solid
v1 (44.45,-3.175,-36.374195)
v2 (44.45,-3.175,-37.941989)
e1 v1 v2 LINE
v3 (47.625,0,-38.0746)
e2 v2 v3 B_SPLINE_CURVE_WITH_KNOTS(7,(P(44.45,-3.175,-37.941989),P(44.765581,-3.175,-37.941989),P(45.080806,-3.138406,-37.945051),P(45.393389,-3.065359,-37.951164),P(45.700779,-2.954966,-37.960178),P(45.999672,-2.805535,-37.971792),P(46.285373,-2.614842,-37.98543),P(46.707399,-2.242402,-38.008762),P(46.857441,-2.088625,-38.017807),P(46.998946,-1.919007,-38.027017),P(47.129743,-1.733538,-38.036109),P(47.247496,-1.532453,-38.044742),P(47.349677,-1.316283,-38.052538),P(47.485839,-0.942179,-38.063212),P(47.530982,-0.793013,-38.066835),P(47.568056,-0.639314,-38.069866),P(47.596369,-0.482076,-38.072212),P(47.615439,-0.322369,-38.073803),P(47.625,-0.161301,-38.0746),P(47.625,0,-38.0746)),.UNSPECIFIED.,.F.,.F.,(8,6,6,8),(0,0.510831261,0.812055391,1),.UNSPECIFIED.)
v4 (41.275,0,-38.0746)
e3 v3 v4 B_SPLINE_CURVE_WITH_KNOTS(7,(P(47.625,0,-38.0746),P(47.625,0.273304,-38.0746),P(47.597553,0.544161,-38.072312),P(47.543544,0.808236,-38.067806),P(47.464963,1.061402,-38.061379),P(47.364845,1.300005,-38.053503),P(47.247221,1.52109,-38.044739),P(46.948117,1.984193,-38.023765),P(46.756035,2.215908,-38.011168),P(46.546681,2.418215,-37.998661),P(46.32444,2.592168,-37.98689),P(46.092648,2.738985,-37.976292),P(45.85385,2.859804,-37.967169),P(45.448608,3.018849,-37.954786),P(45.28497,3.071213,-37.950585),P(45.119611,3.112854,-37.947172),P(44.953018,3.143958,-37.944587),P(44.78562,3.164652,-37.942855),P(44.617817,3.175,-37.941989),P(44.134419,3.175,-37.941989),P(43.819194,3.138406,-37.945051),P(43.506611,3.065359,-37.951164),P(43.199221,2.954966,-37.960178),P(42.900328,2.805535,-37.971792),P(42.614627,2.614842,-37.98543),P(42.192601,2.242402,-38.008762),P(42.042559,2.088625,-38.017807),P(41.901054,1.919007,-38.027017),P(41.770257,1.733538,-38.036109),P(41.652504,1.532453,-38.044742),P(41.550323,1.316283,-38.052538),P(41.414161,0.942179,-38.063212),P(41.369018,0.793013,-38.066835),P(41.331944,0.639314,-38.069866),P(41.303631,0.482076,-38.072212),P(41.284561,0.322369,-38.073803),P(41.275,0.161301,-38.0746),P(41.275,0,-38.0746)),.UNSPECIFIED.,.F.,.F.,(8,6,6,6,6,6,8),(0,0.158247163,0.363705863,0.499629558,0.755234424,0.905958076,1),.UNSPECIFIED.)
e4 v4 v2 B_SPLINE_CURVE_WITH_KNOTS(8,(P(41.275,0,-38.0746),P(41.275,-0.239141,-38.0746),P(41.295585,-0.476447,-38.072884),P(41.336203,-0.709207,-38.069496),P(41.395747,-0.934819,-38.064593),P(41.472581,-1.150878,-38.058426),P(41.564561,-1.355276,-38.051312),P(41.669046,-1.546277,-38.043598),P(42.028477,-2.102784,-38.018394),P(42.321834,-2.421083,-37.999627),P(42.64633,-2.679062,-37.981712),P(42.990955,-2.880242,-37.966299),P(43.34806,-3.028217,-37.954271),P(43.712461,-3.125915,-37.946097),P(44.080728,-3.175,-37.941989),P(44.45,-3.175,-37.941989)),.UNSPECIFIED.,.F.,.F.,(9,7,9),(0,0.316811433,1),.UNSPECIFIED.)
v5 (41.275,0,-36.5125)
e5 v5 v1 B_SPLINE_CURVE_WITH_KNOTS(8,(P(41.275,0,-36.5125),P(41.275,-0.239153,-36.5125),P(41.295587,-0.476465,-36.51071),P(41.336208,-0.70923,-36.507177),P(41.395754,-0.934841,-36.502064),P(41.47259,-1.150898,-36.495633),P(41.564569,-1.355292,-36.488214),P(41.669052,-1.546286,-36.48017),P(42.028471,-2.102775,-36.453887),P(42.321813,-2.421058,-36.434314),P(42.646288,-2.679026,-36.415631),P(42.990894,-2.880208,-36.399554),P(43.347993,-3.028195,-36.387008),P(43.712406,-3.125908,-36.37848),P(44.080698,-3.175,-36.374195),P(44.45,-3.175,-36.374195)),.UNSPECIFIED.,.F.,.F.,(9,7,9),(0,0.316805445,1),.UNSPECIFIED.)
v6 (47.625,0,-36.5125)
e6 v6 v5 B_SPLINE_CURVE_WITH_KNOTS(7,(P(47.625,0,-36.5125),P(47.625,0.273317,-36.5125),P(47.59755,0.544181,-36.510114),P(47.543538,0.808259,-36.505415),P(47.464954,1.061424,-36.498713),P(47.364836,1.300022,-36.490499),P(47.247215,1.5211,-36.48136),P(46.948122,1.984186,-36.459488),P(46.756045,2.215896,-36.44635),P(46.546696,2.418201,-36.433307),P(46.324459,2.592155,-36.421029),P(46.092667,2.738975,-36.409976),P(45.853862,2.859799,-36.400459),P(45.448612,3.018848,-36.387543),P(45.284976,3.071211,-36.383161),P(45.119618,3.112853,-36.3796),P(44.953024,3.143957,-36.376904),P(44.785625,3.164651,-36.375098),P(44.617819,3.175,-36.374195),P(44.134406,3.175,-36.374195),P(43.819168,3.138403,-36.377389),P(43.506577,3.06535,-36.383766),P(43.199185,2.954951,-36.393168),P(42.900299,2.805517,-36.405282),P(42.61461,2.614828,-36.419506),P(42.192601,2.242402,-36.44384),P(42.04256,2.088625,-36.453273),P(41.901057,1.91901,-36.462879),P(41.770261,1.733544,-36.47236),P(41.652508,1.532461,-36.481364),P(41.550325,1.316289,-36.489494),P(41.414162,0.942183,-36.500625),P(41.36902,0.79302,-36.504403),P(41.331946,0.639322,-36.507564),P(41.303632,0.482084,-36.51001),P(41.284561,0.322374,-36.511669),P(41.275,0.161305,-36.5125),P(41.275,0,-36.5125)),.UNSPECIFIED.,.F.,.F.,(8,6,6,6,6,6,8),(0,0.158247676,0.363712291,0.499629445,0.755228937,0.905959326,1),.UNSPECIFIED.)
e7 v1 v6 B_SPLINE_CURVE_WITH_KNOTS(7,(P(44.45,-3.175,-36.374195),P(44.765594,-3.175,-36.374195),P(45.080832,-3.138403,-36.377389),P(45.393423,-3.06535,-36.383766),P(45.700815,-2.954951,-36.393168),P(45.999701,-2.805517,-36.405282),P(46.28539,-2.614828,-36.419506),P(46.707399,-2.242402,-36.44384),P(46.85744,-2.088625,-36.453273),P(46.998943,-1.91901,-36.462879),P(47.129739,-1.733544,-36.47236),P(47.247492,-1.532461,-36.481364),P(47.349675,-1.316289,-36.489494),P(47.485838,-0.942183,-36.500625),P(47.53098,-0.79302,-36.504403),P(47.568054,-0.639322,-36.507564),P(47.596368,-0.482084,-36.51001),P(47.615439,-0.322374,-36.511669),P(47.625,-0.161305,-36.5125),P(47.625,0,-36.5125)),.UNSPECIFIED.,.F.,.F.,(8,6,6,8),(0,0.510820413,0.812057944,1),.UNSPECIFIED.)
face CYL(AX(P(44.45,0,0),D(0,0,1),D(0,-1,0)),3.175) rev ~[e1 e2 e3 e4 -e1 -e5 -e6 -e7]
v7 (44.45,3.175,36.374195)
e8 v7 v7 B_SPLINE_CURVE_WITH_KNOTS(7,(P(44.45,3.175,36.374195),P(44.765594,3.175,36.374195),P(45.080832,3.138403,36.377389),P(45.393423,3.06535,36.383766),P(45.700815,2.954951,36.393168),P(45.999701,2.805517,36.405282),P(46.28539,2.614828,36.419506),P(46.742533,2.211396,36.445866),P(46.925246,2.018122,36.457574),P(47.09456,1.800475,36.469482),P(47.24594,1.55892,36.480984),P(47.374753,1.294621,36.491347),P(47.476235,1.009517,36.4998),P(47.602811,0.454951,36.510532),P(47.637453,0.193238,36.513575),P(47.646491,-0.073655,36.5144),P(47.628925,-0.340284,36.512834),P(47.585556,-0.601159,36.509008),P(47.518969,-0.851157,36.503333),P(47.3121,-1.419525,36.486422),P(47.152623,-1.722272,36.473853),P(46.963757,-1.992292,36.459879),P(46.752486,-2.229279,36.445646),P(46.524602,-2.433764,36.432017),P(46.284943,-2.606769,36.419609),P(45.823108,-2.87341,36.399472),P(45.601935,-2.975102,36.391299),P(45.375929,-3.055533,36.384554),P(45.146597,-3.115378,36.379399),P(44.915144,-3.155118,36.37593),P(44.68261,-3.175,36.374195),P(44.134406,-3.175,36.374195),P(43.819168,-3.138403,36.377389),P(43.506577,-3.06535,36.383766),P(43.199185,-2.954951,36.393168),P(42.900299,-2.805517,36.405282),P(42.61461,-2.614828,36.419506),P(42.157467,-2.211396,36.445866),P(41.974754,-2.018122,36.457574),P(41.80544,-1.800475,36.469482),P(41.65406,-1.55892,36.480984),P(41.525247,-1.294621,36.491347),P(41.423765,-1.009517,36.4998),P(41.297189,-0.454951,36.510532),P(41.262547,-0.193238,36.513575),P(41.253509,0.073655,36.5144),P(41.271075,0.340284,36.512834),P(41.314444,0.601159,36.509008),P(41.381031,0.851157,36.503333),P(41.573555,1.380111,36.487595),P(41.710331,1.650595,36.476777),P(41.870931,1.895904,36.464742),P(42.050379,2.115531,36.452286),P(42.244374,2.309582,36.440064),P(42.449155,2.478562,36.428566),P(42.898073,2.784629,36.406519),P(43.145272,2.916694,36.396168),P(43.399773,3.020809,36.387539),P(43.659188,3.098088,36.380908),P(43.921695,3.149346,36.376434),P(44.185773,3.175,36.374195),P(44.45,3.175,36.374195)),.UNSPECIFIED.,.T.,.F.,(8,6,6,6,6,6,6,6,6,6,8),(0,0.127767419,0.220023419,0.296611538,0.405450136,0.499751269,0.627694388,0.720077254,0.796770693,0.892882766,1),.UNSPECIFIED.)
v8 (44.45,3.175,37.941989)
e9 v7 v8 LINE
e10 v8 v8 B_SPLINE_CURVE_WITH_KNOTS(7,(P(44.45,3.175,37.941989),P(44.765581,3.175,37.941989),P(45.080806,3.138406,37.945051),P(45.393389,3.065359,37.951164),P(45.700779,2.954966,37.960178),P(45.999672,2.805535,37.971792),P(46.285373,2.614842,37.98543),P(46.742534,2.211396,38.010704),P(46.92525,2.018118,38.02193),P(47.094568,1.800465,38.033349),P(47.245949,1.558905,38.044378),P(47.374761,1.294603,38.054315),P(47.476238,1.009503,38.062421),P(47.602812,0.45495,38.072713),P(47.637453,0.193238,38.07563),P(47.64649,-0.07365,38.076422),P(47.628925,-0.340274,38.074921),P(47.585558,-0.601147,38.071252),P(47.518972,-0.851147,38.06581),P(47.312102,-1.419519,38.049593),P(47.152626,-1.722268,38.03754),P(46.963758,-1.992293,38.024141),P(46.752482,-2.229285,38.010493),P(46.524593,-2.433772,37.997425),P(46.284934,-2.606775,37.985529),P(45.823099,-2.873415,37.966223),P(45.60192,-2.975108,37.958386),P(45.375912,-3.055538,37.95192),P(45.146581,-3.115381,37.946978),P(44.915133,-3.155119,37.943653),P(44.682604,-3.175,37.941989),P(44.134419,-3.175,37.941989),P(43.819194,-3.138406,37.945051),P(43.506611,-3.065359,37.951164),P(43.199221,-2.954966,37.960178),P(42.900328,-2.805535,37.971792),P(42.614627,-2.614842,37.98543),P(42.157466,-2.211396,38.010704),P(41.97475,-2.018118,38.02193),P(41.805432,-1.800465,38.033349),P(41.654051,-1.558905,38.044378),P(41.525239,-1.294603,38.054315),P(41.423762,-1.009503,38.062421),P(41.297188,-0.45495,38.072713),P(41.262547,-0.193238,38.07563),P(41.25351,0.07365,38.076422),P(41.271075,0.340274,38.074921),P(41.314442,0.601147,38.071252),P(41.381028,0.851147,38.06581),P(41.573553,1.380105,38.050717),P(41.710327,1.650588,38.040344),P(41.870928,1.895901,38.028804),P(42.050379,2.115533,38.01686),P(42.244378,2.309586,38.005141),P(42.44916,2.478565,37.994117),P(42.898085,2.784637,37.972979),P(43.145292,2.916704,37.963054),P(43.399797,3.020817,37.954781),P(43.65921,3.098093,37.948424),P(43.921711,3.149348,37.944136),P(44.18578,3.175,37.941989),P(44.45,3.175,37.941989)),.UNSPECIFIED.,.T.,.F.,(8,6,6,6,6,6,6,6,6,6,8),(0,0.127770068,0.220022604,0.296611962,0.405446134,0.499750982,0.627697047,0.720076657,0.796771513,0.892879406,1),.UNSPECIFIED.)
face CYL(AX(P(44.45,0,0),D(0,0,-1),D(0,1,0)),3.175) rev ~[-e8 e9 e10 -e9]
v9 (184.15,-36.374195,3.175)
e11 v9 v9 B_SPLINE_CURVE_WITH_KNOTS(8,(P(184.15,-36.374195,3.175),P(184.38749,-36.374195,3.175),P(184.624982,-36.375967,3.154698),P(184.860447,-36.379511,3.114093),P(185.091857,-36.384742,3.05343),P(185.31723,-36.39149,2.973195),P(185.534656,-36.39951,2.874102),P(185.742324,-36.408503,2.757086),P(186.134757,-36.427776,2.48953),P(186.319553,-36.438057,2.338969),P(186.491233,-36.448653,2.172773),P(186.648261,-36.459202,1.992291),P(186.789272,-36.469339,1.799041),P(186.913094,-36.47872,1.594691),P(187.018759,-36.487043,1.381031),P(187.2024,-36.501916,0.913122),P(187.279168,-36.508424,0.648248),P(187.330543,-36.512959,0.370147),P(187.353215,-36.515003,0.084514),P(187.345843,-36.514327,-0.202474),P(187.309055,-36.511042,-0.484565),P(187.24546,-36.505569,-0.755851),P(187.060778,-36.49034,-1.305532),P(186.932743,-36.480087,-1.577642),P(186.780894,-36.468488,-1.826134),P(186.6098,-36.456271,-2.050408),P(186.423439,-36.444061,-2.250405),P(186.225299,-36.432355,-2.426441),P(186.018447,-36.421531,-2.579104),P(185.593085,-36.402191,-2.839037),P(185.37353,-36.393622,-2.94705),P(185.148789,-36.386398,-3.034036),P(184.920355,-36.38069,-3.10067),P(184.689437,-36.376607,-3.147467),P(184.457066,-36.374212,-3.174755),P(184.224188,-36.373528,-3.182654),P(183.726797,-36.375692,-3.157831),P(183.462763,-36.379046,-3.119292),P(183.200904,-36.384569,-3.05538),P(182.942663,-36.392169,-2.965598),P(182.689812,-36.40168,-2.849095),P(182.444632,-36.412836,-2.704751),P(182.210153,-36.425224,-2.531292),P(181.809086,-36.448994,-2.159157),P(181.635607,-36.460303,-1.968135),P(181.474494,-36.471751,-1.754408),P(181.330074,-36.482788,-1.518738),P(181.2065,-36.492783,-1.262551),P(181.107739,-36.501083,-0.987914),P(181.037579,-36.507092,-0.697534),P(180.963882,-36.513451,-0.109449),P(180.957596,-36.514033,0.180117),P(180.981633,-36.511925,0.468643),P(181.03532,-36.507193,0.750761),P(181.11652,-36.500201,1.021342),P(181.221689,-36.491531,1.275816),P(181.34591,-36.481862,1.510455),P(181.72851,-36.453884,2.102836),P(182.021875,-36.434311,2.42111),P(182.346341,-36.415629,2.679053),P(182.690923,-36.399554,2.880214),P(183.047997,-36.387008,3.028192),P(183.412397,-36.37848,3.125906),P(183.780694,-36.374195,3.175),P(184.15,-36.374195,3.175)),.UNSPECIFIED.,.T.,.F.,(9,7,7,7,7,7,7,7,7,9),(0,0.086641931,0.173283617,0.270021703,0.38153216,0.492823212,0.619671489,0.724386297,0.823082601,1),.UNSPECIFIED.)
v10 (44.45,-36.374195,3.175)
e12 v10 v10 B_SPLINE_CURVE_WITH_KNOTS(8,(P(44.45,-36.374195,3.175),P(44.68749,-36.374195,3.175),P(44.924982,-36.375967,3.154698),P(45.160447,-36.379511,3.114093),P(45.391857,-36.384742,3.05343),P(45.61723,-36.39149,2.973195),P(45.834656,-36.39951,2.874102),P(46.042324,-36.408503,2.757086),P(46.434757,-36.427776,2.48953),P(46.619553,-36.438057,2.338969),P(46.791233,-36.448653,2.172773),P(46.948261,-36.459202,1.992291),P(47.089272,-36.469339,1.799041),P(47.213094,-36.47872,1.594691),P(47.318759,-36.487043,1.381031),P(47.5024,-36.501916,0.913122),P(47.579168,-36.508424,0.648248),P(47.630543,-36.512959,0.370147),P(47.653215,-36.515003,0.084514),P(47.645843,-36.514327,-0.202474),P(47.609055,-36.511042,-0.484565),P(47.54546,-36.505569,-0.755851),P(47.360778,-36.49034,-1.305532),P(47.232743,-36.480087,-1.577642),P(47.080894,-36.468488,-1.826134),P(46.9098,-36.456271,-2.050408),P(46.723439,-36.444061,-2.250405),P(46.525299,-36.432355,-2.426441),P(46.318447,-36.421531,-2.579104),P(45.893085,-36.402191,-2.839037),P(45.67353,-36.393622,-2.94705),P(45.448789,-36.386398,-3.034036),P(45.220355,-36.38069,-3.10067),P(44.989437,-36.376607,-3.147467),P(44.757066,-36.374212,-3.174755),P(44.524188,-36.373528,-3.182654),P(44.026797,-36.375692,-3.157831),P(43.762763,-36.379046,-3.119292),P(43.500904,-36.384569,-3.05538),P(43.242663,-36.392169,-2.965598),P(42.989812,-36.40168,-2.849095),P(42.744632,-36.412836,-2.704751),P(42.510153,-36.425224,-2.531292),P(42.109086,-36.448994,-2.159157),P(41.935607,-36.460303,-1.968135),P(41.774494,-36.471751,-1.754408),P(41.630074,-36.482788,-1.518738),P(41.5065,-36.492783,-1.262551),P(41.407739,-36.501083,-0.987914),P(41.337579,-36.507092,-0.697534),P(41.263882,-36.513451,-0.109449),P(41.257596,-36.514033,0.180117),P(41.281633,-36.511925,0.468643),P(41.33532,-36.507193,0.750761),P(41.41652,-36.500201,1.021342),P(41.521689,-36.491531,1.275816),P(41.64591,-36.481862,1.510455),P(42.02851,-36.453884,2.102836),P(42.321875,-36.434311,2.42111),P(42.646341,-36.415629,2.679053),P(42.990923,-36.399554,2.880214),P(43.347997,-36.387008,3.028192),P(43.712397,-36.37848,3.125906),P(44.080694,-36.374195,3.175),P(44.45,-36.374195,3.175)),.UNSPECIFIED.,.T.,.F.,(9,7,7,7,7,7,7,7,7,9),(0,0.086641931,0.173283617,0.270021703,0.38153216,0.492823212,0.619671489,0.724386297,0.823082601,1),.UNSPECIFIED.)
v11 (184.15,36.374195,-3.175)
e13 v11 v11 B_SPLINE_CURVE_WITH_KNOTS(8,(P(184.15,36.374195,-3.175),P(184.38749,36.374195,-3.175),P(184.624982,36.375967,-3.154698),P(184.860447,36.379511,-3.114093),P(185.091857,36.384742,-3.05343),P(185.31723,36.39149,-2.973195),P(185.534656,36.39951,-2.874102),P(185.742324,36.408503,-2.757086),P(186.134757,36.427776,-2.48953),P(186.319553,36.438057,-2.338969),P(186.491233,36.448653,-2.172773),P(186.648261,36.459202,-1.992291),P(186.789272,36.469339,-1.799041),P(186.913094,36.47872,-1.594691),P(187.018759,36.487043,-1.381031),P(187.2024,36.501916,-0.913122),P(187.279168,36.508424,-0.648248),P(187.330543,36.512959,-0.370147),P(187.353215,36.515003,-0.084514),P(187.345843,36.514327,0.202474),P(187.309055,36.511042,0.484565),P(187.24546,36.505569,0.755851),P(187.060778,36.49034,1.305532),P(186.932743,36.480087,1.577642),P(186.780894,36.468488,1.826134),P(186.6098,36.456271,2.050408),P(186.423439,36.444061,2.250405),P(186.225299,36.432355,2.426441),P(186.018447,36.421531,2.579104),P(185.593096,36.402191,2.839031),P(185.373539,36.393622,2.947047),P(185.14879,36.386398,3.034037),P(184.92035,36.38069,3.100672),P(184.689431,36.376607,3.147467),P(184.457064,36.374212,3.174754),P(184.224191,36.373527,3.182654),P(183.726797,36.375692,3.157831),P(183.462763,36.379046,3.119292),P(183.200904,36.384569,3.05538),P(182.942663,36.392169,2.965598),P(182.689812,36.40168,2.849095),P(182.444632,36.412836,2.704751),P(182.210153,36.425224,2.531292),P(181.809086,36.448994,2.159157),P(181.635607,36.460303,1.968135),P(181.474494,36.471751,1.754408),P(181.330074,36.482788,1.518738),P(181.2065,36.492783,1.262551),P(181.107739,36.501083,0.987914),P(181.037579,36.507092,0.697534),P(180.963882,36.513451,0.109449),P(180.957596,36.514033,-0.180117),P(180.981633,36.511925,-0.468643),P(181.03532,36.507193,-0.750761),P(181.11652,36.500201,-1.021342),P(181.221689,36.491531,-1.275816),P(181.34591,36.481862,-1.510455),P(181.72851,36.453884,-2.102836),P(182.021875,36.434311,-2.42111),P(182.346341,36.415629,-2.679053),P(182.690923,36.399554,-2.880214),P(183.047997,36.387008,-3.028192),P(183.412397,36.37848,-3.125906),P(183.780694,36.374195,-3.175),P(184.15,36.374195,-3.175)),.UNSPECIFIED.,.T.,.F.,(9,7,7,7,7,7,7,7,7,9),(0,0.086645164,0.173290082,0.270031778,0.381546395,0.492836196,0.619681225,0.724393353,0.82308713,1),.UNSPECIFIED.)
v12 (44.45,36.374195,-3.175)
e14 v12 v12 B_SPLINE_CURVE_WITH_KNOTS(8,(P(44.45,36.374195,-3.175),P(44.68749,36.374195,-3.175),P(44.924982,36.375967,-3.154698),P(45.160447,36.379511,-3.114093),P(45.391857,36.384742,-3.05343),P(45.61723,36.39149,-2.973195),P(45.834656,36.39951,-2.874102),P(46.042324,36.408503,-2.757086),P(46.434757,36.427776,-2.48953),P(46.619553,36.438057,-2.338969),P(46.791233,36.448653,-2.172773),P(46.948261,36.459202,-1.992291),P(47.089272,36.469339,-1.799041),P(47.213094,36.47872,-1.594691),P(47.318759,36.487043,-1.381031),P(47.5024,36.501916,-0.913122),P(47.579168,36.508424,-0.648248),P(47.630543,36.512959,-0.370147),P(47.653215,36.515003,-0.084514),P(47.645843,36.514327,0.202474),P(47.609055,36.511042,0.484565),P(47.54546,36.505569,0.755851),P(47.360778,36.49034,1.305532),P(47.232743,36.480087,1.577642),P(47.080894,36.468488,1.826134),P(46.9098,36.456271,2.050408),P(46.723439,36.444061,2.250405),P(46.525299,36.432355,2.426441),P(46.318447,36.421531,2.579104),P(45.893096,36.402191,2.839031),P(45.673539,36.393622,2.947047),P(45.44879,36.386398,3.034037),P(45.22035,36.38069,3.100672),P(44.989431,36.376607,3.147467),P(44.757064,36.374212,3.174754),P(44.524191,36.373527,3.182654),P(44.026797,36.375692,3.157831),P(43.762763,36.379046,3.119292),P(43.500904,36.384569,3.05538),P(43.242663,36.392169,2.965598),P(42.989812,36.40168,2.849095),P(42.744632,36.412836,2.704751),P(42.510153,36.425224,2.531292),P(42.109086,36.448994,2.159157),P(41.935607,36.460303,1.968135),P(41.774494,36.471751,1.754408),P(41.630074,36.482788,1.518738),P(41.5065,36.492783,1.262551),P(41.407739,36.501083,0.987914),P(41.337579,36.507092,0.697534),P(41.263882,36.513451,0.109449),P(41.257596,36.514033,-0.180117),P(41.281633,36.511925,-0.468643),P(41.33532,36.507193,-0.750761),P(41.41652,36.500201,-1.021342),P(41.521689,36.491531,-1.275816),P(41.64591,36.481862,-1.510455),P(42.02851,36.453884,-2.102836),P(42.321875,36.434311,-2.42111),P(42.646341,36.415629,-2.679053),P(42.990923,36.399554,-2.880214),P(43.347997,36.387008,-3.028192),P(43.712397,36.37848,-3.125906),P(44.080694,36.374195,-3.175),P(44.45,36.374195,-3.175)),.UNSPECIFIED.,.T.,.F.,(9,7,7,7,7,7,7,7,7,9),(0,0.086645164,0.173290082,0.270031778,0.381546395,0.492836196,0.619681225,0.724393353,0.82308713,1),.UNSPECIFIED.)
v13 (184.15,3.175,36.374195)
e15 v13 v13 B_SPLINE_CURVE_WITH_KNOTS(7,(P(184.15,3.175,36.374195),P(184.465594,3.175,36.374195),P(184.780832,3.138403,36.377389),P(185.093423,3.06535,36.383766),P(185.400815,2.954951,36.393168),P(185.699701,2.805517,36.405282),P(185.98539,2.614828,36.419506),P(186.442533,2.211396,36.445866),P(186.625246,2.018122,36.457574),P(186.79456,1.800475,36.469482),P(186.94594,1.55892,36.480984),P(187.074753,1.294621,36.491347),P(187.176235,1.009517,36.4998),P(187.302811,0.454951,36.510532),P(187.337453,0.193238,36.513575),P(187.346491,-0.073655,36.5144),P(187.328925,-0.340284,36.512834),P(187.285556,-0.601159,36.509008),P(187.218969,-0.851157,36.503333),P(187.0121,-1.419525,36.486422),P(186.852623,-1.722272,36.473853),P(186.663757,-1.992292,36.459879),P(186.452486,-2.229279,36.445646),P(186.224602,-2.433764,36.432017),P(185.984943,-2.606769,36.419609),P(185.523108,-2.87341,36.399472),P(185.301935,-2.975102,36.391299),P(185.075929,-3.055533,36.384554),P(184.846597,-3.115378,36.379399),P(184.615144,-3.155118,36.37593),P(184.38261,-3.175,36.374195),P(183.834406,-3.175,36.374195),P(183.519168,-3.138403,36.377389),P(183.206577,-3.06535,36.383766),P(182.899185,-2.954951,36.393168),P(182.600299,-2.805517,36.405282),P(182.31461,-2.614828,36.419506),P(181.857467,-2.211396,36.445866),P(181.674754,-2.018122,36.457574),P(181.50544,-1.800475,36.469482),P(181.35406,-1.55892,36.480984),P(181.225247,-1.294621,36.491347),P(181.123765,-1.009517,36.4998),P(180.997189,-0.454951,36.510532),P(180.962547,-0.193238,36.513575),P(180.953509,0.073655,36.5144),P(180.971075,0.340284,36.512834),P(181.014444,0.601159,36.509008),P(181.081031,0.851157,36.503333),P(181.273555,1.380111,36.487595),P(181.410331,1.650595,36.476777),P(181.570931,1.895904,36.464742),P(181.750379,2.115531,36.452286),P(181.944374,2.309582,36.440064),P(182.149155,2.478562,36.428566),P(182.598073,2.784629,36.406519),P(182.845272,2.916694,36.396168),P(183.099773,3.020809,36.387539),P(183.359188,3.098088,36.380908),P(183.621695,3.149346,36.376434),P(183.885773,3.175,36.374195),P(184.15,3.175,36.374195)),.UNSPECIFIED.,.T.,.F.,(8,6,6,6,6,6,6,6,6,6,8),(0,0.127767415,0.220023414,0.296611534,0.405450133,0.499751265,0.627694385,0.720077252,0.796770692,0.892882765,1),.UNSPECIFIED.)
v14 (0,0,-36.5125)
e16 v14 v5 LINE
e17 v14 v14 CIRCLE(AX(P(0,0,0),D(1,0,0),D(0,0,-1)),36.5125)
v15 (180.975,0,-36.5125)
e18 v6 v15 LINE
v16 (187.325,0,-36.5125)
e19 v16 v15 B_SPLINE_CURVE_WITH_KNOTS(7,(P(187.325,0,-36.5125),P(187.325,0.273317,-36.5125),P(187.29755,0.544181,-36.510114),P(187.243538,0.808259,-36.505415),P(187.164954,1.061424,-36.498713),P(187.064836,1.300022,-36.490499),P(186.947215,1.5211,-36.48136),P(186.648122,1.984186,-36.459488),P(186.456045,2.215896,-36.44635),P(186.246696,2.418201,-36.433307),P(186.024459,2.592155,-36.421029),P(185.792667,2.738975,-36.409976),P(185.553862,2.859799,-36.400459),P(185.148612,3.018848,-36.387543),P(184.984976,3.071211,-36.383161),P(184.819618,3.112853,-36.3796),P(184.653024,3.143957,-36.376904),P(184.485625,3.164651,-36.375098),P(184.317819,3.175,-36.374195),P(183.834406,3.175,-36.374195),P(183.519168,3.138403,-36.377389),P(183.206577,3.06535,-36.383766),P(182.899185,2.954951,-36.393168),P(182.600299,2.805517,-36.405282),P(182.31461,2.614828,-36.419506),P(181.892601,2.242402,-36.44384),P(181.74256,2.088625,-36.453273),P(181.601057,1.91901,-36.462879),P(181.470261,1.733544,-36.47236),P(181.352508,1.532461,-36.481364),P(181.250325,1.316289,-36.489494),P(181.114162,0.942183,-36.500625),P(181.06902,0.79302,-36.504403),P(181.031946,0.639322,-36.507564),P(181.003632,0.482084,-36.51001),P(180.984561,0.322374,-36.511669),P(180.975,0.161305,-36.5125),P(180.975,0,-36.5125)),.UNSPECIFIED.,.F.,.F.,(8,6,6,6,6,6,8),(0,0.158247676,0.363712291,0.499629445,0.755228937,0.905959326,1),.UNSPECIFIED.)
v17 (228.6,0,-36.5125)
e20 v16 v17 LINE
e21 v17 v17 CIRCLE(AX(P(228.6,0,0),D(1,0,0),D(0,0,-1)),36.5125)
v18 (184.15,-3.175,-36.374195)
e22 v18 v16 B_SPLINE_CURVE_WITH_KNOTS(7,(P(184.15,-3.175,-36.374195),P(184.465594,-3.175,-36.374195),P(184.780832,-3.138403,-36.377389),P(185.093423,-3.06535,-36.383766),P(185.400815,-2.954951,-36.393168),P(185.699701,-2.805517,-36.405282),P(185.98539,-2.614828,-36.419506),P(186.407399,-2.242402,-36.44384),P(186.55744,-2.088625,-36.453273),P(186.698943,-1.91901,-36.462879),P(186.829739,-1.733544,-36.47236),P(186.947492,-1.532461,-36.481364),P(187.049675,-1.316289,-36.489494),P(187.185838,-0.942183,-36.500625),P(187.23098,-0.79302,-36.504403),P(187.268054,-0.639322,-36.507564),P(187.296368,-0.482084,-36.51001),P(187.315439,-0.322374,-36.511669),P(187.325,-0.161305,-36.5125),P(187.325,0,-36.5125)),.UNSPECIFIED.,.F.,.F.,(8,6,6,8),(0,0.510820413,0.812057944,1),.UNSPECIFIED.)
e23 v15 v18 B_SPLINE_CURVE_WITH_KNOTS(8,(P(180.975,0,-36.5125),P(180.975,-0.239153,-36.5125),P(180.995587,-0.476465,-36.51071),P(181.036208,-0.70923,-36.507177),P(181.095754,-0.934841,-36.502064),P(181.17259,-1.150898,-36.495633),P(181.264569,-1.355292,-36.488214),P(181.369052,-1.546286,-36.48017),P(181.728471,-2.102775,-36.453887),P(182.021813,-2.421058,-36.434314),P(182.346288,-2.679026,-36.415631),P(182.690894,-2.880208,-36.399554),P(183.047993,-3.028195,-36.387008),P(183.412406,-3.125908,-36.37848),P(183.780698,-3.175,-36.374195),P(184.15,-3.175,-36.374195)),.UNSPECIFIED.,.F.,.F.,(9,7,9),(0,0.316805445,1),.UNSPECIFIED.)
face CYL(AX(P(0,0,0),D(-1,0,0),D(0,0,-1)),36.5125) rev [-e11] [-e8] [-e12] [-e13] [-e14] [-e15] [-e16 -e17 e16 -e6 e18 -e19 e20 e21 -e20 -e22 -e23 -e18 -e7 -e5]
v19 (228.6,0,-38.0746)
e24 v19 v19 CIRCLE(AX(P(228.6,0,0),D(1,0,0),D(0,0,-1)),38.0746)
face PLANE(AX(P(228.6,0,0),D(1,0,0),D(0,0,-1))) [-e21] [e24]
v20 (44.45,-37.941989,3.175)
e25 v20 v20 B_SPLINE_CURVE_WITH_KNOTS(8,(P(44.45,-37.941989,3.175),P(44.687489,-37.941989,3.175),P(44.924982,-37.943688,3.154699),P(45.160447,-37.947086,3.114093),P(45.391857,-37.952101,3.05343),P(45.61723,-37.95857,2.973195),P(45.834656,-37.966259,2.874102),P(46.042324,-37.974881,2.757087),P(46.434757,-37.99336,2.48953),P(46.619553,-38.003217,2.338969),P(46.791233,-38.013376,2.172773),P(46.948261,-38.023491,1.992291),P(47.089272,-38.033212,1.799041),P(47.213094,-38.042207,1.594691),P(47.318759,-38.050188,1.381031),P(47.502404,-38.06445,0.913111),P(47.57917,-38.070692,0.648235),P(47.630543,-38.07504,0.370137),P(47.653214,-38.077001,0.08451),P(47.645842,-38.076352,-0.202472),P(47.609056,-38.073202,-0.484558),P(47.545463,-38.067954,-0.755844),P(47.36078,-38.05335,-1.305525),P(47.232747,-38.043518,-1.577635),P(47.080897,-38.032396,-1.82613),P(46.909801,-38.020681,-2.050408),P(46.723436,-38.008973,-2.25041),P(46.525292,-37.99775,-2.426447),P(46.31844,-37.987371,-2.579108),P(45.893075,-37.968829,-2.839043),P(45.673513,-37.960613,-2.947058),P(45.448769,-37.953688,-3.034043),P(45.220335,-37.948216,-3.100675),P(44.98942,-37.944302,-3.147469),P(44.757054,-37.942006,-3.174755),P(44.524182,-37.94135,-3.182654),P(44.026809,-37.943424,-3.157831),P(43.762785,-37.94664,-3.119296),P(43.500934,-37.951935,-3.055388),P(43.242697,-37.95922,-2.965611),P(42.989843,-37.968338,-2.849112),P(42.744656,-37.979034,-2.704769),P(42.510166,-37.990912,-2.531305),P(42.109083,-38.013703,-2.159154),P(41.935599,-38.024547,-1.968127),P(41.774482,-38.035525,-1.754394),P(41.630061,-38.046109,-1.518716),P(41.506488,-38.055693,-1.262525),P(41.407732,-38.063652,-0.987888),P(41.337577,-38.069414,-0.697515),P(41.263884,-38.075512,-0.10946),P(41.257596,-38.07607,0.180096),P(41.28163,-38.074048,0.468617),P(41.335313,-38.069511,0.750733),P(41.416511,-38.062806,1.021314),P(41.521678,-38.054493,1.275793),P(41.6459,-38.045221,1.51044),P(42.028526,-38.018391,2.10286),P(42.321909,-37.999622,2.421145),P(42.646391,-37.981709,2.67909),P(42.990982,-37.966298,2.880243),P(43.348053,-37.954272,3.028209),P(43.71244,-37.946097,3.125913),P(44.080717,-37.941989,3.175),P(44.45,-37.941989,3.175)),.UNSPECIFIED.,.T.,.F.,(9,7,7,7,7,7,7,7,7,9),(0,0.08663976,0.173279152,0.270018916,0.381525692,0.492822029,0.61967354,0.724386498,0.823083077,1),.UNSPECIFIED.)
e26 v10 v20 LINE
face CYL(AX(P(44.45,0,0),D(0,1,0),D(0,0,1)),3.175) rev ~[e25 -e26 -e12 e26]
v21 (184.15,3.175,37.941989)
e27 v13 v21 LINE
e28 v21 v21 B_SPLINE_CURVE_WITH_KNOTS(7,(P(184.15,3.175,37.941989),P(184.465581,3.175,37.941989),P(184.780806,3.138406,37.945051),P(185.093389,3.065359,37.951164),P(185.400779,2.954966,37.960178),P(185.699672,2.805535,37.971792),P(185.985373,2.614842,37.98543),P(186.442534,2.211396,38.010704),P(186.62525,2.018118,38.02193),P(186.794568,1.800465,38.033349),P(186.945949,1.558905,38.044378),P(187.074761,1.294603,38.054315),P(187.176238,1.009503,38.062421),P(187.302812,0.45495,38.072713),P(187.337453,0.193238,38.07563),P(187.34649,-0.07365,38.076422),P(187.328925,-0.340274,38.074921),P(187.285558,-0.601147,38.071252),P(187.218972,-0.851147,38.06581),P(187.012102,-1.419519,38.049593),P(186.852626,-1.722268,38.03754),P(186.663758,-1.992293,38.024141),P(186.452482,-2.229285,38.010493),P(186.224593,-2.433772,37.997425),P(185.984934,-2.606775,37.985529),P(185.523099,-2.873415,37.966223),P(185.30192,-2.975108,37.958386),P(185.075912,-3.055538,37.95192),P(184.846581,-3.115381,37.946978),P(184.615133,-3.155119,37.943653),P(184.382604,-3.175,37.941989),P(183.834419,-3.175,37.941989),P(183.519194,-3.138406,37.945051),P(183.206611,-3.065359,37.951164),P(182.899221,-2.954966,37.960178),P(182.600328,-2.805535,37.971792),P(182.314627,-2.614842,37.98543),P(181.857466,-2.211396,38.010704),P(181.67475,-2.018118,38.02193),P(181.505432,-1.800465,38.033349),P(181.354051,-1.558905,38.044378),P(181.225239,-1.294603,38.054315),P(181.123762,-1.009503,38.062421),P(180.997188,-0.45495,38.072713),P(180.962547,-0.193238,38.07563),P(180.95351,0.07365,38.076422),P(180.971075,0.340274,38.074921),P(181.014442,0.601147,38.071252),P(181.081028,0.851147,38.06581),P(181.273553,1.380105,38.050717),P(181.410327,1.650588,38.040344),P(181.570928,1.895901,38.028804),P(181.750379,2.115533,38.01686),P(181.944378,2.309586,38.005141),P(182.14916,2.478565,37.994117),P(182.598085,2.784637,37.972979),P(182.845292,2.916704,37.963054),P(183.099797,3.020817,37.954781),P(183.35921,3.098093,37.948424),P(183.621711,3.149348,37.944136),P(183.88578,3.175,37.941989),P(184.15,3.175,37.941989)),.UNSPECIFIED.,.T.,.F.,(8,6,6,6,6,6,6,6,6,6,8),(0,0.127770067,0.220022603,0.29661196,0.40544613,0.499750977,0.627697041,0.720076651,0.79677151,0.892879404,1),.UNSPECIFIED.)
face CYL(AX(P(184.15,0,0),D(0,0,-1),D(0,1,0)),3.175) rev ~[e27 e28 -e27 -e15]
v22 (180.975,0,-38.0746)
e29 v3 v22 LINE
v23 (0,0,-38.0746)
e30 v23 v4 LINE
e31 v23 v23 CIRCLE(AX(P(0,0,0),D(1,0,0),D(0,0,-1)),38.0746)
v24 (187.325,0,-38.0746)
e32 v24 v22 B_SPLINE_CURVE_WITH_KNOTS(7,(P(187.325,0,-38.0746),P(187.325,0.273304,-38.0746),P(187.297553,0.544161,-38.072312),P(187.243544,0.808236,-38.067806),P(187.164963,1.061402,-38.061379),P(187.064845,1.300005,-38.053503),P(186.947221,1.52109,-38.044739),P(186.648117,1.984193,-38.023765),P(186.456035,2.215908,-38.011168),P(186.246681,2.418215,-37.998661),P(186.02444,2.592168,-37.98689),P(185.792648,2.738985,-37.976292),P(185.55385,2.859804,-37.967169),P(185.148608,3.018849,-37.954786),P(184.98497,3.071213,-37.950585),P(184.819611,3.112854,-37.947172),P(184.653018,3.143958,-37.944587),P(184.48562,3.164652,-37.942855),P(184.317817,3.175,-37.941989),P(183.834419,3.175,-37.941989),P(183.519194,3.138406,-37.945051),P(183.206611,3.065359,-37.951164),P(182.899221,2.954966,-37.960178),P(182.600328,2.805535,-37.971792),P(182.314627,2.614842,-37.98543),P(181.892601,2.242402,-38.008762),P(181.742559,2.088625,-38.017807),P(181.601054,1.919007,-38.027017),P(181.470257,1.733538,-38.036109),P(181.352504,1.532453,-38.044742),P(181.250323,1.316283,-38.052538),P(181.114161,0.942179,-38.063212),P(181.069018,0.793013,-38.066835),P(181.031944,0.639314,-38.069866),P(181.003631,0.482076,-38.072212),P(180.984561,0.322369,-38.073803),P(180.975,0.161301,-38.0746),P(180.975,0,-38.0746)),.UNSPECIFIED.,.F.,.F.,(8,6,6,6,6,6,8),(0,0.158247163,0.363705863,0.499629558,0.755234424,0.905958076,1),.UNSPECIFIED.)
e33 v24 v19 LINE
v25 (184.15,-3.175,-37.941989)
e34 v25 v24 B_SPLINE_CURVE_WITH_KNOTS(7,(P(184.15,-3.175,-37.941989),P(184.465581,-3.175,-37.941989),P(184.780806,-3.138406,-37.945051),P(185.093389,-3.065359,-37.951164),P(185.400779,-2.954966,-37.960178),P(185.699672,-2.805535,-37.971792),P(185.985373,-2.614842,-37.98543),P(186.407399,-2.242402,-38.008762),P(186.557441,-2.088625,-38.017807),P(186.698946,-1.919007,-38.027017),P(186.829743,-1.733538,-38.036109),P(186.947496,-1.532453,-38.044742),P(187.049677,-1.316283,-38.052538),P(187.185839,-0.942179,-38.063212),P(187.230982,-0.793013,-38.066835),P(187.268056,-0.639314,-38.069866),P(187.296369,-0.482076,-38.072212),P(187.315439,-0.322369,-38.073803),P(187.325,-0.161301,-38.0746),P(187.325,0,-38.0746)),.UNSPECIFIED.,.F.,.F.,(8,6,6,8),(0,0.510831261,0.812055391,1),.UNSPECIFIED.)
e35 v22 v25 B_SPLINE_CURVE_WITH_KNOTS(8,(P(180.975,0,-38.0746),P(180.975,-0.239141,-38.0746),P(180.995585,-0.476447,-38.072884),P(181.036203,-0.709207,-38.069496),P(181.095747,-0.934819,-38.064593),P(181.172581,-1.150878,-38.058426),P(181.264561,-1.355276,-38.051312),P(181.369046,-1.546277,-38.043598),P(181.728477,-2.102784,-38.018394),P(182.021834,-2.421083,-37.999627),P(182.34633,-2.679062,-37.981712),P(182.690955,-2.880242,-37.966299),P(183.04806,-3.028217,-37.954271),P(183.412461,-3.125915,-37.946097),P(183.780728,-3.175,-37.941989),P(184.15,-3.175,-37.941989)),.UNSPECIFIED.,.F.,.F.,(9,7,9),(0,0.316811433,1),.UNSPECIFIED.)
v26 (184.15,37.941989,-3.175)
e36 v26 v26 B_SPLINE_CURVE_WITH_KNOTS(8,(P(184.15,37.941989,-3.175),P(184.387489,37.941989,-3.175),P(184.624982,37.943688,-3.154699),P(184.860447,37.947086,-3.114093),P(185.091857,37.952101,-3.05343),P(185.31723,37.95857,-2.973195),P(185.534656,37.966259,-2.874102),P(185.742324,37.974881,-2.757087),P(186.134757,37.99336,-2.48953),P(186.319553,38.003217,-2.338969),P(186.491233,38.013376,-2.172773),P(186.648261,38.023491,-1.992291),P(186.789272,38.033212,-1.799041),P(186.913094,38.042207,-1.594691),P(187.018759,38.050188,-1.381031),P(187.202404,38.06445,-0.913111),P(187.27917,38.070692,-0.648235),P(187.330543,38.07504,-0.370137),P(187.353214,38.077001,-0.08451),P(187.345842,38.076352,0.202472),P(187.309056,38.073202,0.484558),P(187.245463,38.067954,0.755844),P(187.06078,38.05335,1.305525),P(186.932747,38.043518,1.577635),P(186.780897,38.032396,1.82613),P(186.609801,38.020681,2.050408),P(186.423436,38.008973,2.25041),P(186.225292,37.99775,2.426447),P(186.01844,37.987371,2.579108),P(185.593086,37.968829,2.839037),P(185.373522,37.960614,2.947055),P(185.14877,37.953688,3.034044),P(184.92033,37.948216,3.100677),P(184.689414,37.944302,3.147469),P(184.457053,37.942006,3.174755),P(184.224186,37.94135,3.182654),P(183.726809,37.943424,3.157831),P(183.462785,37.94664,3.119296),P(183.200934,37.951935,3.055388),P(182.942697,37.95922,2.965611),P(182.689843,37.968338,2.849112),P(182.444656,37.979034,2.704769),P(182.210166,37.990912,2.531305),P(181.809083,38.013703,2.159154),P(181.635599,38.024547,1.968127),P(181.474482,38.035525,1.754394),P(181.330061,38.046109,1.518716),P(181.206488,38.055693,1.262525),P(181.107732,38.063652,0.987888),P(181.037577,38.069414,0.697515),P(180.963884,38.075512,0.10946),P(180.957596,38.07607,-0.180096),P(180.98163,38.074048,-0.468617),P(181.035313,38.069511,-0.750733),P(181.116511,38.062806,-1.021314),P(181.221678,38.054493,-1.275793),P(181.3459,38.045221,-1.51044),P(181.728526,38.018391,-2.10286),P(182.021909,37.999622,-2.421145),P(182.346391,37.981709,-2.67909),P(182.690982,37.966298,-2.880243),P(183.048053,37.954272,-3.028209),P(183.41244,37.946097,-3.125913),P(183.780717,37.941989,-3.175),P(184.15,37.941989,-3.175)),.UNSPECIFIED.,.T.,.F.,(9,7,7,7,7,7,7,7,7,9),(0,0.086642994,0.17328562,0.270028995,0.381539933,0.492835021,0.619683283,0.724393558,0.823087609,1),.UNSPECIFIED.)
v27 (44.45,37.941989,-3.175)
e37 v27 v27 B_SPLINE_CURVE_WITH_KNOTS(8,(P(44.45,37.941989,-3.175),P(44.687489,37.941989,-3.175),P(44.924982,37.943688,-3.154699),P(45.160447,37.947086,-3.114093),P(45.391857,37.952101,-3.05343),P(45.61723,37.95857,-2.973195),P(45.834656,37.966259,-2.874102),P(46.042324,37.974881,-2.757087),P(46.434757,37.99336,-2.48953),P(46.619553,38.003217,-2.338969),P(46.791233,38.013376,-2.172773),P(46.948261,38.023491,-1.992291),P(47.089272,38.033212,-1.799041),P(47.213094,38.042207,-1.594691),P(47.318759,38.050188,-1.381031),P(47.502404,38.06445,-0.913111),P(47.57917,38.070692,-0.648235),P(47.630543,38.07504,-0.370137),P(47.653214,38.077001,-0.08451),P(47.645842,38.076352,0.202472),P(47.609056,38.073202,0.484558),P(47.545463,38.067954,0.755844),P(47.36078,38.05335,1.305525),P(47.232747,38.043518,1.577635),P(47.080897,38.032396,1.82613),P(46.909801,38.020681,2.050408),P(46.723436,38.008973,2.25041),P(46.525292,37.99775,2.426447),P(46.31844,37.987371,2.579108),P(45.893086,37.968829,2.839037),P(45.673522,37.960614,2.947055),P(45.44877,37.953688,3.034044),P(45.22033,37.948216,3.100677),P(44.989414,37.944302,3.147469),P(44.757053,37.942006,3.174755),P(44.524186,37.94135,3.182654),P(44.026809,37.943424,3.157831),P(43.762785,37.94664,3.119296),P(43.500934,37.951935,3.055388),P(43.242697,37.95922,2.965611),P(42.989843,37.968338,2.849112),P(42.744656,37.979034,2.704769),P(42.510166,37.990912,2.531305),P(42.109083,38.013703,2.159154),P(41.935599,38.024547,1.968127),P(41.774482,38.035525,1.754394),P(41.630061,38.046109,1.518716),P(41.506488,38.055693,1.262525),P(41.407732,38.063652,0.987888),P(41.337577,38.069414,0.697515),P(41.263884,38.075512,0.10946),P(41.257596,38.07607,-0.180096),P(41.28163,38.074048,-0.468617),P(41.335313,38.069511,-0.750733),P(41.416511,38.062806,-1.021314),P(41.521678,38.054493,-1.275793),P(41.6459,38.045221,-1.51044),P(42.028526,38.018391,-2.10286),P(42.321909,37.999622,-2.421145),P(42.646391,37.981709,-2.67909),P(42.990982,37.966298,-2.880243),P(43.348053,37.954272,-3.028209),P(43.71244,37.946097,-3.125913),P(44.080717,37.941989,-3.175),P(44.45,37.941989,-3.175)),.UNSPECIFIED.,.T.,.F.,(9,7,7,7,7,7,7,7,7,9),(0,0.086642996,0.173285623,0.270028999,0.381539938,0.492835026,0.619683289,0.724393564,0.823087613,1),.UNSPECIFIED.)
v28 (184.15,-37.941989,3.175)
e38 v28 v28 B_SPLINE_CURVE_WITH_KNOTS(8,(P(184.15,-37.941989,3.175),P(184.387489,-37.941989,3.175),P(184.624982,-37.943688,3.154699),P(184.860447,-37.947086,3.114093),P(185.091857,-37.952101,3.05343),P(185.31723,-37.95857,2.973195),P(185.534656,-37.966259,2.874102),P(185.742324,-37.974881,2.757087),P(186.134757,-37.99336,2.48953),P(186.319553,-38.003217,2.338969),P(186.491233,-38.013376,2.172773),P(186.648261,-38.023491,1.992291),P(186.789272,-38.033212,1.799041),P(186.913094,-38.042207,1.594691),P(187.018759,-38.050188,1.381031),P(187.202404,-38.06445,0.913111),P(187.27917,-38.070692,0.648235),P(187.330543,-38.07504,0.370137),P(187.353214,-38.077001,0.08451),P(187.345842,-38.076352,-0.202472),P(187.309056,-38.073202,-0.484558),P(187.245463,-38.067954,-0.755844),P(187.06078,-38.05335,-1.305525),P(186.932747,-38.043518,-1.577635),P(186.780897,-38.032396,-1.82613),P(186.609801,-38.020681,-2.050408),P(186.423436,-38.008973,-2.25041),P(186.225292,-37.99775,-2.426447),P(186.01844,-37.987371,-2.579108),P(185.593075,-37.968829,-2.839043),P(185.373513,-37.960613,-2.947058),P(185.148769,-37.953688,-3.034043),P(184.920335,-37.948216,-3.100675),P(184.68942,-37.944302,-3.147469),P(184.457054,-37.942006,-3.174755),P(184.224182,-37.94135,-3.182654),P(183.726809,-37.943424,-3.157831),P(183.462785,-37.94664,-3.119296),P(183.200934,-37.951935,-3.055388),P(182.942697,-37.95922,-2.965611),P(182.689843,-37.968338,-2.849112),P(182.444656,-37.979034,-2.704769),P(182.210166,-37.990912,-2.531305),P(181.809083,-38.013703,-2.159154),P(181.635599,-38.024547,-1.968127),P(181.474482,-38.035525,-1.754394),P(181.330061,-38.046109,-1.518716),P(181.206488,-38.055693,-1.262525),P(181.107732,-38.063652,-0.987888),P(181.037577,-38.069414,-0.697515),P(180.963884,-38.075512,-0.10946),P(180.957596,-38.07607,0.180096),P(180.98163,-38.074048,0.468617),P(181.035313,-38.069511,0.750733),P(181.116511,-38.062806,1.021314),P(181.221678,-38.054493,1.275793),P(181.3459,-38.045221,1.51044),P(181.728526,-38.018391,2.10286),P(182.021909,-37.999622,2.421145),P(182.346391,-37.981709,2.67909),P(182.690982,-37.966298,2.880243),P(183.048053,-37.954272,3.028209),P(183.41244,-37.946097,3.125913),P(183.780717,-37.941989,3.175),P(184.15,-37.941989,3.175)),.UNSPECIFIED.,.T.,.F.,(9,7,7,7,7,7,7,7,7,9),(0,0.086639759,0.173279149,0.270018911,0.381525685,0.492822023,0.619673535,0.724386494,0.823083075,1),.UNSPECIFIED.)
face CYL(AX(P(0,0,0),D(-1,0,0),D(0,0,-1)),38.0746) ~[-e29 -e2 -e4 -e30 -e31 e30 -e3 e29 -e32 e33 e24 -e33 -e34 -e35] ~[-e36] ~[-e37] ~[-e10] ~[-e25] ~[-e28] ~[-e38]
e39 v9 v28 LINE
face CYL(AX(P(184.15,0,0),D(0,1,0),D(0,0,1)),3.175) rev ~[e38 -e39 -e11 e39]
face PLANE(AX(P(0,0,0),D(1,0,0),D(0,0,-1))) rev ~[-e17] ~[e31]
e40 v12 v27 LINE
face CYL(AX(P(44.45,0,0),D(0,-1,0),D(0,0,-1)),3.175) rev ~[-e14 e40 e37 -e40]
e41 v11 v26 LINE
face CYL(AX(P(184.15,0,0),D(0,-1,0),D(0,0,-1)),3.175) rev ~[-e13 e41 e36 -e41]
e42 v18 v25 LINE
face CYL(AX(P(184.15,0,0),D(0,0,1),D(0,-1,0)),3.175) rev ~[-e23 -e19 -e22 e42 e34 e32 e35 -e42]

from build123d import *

# Parameters (mm, degrees)
SKETCH1_R           = 38.0746
SKETCH1_R_2         = 36.5125
BOSS_EXTRUDE1_DEPTH = 228.6
SKETCH2_R           = 3.175
CUT_EXTRUDE1_DEPTH  = 235.855935267
CIRPATTERN1_COUNT   = 4
SKETCH3_R           = 3.175
CUT_EXTRUDE2_DEPTH  = 235.855935397
CIRPATTERN2_COUNT   = 4


with BuildPart() as part:
    # Sketch1 → Boss-Extrude1 (new body)
    with BuildSketch(Plane.YZ):
        with Locations(Location((0, 0, 0), (0, 0, 270))):
            Circle(SKETCH1_R)
        with Locations(Location((0, 0, 0), (0, 0, 270))):
            Circle(SKETCH1_R_2, mode=Mode.SUBTRACT)
    extrude(amount=BOSS_EXTRUDE1_DEPTH)

    # Sketch2 → Cut-Extrude1 (cut, through all)
    with BuildSketch(Plane(origin=(0, 0, 0), x_dir=(-1, 0, 0), z_dir=(0, 1, 0))):
        with Locations(Location((-184.15, 0, 0), (0, 0, 90))):
            Circle(SKETCH2_R)
    cut_extrude1 = extrude(amount=-CUT_EXTRUDE1_DEPTH, mode=Mode.SUBTRACT)

    # CirPattern1: Cut-Extrude1 ×4 about axis
    cirpattern1_axis = Axis((228.6, 0, 0), (-1, 0, 0))
    for i in range(1, CIRPATTERN1_COUNT):
        add(cut_extrude1.rotate(cirpattern1_axis, i * 360 / CIRPATTERN1_COUNT), mode=Mode.SUBTRACT)

    # Sketch3 → Cut-Extrude2 (cut, through all)
    with BuildSketch(Plane(origin=(0, 0, 0), x_dir=(-1, 0, 0), z_dir=(0, 1, 0))):
        with Locations(Location((-44.45, 0, 0), (0, 0, 90))):
            Circle(SKETCH3_R)
    cut_extrude2 = extrude(amount=-CUT_EXTRUDE2_DEPTH, mode=Mode.SUBTRACT)

    # CirPattern2: Cut-Extrude2 ×4 about axis
    cirpattern2_axis = Axis((228.6, 0, 0), (-1, 0, 0))
    for i in range(1, CIRPATTERN2_COUNT):
        add(cut_extrude2.rotate(cirpattern2_axis, i * 360 / CIRPATTERN2_COUNT), mode=Mode.SUBTRACT)


solid = part.part
